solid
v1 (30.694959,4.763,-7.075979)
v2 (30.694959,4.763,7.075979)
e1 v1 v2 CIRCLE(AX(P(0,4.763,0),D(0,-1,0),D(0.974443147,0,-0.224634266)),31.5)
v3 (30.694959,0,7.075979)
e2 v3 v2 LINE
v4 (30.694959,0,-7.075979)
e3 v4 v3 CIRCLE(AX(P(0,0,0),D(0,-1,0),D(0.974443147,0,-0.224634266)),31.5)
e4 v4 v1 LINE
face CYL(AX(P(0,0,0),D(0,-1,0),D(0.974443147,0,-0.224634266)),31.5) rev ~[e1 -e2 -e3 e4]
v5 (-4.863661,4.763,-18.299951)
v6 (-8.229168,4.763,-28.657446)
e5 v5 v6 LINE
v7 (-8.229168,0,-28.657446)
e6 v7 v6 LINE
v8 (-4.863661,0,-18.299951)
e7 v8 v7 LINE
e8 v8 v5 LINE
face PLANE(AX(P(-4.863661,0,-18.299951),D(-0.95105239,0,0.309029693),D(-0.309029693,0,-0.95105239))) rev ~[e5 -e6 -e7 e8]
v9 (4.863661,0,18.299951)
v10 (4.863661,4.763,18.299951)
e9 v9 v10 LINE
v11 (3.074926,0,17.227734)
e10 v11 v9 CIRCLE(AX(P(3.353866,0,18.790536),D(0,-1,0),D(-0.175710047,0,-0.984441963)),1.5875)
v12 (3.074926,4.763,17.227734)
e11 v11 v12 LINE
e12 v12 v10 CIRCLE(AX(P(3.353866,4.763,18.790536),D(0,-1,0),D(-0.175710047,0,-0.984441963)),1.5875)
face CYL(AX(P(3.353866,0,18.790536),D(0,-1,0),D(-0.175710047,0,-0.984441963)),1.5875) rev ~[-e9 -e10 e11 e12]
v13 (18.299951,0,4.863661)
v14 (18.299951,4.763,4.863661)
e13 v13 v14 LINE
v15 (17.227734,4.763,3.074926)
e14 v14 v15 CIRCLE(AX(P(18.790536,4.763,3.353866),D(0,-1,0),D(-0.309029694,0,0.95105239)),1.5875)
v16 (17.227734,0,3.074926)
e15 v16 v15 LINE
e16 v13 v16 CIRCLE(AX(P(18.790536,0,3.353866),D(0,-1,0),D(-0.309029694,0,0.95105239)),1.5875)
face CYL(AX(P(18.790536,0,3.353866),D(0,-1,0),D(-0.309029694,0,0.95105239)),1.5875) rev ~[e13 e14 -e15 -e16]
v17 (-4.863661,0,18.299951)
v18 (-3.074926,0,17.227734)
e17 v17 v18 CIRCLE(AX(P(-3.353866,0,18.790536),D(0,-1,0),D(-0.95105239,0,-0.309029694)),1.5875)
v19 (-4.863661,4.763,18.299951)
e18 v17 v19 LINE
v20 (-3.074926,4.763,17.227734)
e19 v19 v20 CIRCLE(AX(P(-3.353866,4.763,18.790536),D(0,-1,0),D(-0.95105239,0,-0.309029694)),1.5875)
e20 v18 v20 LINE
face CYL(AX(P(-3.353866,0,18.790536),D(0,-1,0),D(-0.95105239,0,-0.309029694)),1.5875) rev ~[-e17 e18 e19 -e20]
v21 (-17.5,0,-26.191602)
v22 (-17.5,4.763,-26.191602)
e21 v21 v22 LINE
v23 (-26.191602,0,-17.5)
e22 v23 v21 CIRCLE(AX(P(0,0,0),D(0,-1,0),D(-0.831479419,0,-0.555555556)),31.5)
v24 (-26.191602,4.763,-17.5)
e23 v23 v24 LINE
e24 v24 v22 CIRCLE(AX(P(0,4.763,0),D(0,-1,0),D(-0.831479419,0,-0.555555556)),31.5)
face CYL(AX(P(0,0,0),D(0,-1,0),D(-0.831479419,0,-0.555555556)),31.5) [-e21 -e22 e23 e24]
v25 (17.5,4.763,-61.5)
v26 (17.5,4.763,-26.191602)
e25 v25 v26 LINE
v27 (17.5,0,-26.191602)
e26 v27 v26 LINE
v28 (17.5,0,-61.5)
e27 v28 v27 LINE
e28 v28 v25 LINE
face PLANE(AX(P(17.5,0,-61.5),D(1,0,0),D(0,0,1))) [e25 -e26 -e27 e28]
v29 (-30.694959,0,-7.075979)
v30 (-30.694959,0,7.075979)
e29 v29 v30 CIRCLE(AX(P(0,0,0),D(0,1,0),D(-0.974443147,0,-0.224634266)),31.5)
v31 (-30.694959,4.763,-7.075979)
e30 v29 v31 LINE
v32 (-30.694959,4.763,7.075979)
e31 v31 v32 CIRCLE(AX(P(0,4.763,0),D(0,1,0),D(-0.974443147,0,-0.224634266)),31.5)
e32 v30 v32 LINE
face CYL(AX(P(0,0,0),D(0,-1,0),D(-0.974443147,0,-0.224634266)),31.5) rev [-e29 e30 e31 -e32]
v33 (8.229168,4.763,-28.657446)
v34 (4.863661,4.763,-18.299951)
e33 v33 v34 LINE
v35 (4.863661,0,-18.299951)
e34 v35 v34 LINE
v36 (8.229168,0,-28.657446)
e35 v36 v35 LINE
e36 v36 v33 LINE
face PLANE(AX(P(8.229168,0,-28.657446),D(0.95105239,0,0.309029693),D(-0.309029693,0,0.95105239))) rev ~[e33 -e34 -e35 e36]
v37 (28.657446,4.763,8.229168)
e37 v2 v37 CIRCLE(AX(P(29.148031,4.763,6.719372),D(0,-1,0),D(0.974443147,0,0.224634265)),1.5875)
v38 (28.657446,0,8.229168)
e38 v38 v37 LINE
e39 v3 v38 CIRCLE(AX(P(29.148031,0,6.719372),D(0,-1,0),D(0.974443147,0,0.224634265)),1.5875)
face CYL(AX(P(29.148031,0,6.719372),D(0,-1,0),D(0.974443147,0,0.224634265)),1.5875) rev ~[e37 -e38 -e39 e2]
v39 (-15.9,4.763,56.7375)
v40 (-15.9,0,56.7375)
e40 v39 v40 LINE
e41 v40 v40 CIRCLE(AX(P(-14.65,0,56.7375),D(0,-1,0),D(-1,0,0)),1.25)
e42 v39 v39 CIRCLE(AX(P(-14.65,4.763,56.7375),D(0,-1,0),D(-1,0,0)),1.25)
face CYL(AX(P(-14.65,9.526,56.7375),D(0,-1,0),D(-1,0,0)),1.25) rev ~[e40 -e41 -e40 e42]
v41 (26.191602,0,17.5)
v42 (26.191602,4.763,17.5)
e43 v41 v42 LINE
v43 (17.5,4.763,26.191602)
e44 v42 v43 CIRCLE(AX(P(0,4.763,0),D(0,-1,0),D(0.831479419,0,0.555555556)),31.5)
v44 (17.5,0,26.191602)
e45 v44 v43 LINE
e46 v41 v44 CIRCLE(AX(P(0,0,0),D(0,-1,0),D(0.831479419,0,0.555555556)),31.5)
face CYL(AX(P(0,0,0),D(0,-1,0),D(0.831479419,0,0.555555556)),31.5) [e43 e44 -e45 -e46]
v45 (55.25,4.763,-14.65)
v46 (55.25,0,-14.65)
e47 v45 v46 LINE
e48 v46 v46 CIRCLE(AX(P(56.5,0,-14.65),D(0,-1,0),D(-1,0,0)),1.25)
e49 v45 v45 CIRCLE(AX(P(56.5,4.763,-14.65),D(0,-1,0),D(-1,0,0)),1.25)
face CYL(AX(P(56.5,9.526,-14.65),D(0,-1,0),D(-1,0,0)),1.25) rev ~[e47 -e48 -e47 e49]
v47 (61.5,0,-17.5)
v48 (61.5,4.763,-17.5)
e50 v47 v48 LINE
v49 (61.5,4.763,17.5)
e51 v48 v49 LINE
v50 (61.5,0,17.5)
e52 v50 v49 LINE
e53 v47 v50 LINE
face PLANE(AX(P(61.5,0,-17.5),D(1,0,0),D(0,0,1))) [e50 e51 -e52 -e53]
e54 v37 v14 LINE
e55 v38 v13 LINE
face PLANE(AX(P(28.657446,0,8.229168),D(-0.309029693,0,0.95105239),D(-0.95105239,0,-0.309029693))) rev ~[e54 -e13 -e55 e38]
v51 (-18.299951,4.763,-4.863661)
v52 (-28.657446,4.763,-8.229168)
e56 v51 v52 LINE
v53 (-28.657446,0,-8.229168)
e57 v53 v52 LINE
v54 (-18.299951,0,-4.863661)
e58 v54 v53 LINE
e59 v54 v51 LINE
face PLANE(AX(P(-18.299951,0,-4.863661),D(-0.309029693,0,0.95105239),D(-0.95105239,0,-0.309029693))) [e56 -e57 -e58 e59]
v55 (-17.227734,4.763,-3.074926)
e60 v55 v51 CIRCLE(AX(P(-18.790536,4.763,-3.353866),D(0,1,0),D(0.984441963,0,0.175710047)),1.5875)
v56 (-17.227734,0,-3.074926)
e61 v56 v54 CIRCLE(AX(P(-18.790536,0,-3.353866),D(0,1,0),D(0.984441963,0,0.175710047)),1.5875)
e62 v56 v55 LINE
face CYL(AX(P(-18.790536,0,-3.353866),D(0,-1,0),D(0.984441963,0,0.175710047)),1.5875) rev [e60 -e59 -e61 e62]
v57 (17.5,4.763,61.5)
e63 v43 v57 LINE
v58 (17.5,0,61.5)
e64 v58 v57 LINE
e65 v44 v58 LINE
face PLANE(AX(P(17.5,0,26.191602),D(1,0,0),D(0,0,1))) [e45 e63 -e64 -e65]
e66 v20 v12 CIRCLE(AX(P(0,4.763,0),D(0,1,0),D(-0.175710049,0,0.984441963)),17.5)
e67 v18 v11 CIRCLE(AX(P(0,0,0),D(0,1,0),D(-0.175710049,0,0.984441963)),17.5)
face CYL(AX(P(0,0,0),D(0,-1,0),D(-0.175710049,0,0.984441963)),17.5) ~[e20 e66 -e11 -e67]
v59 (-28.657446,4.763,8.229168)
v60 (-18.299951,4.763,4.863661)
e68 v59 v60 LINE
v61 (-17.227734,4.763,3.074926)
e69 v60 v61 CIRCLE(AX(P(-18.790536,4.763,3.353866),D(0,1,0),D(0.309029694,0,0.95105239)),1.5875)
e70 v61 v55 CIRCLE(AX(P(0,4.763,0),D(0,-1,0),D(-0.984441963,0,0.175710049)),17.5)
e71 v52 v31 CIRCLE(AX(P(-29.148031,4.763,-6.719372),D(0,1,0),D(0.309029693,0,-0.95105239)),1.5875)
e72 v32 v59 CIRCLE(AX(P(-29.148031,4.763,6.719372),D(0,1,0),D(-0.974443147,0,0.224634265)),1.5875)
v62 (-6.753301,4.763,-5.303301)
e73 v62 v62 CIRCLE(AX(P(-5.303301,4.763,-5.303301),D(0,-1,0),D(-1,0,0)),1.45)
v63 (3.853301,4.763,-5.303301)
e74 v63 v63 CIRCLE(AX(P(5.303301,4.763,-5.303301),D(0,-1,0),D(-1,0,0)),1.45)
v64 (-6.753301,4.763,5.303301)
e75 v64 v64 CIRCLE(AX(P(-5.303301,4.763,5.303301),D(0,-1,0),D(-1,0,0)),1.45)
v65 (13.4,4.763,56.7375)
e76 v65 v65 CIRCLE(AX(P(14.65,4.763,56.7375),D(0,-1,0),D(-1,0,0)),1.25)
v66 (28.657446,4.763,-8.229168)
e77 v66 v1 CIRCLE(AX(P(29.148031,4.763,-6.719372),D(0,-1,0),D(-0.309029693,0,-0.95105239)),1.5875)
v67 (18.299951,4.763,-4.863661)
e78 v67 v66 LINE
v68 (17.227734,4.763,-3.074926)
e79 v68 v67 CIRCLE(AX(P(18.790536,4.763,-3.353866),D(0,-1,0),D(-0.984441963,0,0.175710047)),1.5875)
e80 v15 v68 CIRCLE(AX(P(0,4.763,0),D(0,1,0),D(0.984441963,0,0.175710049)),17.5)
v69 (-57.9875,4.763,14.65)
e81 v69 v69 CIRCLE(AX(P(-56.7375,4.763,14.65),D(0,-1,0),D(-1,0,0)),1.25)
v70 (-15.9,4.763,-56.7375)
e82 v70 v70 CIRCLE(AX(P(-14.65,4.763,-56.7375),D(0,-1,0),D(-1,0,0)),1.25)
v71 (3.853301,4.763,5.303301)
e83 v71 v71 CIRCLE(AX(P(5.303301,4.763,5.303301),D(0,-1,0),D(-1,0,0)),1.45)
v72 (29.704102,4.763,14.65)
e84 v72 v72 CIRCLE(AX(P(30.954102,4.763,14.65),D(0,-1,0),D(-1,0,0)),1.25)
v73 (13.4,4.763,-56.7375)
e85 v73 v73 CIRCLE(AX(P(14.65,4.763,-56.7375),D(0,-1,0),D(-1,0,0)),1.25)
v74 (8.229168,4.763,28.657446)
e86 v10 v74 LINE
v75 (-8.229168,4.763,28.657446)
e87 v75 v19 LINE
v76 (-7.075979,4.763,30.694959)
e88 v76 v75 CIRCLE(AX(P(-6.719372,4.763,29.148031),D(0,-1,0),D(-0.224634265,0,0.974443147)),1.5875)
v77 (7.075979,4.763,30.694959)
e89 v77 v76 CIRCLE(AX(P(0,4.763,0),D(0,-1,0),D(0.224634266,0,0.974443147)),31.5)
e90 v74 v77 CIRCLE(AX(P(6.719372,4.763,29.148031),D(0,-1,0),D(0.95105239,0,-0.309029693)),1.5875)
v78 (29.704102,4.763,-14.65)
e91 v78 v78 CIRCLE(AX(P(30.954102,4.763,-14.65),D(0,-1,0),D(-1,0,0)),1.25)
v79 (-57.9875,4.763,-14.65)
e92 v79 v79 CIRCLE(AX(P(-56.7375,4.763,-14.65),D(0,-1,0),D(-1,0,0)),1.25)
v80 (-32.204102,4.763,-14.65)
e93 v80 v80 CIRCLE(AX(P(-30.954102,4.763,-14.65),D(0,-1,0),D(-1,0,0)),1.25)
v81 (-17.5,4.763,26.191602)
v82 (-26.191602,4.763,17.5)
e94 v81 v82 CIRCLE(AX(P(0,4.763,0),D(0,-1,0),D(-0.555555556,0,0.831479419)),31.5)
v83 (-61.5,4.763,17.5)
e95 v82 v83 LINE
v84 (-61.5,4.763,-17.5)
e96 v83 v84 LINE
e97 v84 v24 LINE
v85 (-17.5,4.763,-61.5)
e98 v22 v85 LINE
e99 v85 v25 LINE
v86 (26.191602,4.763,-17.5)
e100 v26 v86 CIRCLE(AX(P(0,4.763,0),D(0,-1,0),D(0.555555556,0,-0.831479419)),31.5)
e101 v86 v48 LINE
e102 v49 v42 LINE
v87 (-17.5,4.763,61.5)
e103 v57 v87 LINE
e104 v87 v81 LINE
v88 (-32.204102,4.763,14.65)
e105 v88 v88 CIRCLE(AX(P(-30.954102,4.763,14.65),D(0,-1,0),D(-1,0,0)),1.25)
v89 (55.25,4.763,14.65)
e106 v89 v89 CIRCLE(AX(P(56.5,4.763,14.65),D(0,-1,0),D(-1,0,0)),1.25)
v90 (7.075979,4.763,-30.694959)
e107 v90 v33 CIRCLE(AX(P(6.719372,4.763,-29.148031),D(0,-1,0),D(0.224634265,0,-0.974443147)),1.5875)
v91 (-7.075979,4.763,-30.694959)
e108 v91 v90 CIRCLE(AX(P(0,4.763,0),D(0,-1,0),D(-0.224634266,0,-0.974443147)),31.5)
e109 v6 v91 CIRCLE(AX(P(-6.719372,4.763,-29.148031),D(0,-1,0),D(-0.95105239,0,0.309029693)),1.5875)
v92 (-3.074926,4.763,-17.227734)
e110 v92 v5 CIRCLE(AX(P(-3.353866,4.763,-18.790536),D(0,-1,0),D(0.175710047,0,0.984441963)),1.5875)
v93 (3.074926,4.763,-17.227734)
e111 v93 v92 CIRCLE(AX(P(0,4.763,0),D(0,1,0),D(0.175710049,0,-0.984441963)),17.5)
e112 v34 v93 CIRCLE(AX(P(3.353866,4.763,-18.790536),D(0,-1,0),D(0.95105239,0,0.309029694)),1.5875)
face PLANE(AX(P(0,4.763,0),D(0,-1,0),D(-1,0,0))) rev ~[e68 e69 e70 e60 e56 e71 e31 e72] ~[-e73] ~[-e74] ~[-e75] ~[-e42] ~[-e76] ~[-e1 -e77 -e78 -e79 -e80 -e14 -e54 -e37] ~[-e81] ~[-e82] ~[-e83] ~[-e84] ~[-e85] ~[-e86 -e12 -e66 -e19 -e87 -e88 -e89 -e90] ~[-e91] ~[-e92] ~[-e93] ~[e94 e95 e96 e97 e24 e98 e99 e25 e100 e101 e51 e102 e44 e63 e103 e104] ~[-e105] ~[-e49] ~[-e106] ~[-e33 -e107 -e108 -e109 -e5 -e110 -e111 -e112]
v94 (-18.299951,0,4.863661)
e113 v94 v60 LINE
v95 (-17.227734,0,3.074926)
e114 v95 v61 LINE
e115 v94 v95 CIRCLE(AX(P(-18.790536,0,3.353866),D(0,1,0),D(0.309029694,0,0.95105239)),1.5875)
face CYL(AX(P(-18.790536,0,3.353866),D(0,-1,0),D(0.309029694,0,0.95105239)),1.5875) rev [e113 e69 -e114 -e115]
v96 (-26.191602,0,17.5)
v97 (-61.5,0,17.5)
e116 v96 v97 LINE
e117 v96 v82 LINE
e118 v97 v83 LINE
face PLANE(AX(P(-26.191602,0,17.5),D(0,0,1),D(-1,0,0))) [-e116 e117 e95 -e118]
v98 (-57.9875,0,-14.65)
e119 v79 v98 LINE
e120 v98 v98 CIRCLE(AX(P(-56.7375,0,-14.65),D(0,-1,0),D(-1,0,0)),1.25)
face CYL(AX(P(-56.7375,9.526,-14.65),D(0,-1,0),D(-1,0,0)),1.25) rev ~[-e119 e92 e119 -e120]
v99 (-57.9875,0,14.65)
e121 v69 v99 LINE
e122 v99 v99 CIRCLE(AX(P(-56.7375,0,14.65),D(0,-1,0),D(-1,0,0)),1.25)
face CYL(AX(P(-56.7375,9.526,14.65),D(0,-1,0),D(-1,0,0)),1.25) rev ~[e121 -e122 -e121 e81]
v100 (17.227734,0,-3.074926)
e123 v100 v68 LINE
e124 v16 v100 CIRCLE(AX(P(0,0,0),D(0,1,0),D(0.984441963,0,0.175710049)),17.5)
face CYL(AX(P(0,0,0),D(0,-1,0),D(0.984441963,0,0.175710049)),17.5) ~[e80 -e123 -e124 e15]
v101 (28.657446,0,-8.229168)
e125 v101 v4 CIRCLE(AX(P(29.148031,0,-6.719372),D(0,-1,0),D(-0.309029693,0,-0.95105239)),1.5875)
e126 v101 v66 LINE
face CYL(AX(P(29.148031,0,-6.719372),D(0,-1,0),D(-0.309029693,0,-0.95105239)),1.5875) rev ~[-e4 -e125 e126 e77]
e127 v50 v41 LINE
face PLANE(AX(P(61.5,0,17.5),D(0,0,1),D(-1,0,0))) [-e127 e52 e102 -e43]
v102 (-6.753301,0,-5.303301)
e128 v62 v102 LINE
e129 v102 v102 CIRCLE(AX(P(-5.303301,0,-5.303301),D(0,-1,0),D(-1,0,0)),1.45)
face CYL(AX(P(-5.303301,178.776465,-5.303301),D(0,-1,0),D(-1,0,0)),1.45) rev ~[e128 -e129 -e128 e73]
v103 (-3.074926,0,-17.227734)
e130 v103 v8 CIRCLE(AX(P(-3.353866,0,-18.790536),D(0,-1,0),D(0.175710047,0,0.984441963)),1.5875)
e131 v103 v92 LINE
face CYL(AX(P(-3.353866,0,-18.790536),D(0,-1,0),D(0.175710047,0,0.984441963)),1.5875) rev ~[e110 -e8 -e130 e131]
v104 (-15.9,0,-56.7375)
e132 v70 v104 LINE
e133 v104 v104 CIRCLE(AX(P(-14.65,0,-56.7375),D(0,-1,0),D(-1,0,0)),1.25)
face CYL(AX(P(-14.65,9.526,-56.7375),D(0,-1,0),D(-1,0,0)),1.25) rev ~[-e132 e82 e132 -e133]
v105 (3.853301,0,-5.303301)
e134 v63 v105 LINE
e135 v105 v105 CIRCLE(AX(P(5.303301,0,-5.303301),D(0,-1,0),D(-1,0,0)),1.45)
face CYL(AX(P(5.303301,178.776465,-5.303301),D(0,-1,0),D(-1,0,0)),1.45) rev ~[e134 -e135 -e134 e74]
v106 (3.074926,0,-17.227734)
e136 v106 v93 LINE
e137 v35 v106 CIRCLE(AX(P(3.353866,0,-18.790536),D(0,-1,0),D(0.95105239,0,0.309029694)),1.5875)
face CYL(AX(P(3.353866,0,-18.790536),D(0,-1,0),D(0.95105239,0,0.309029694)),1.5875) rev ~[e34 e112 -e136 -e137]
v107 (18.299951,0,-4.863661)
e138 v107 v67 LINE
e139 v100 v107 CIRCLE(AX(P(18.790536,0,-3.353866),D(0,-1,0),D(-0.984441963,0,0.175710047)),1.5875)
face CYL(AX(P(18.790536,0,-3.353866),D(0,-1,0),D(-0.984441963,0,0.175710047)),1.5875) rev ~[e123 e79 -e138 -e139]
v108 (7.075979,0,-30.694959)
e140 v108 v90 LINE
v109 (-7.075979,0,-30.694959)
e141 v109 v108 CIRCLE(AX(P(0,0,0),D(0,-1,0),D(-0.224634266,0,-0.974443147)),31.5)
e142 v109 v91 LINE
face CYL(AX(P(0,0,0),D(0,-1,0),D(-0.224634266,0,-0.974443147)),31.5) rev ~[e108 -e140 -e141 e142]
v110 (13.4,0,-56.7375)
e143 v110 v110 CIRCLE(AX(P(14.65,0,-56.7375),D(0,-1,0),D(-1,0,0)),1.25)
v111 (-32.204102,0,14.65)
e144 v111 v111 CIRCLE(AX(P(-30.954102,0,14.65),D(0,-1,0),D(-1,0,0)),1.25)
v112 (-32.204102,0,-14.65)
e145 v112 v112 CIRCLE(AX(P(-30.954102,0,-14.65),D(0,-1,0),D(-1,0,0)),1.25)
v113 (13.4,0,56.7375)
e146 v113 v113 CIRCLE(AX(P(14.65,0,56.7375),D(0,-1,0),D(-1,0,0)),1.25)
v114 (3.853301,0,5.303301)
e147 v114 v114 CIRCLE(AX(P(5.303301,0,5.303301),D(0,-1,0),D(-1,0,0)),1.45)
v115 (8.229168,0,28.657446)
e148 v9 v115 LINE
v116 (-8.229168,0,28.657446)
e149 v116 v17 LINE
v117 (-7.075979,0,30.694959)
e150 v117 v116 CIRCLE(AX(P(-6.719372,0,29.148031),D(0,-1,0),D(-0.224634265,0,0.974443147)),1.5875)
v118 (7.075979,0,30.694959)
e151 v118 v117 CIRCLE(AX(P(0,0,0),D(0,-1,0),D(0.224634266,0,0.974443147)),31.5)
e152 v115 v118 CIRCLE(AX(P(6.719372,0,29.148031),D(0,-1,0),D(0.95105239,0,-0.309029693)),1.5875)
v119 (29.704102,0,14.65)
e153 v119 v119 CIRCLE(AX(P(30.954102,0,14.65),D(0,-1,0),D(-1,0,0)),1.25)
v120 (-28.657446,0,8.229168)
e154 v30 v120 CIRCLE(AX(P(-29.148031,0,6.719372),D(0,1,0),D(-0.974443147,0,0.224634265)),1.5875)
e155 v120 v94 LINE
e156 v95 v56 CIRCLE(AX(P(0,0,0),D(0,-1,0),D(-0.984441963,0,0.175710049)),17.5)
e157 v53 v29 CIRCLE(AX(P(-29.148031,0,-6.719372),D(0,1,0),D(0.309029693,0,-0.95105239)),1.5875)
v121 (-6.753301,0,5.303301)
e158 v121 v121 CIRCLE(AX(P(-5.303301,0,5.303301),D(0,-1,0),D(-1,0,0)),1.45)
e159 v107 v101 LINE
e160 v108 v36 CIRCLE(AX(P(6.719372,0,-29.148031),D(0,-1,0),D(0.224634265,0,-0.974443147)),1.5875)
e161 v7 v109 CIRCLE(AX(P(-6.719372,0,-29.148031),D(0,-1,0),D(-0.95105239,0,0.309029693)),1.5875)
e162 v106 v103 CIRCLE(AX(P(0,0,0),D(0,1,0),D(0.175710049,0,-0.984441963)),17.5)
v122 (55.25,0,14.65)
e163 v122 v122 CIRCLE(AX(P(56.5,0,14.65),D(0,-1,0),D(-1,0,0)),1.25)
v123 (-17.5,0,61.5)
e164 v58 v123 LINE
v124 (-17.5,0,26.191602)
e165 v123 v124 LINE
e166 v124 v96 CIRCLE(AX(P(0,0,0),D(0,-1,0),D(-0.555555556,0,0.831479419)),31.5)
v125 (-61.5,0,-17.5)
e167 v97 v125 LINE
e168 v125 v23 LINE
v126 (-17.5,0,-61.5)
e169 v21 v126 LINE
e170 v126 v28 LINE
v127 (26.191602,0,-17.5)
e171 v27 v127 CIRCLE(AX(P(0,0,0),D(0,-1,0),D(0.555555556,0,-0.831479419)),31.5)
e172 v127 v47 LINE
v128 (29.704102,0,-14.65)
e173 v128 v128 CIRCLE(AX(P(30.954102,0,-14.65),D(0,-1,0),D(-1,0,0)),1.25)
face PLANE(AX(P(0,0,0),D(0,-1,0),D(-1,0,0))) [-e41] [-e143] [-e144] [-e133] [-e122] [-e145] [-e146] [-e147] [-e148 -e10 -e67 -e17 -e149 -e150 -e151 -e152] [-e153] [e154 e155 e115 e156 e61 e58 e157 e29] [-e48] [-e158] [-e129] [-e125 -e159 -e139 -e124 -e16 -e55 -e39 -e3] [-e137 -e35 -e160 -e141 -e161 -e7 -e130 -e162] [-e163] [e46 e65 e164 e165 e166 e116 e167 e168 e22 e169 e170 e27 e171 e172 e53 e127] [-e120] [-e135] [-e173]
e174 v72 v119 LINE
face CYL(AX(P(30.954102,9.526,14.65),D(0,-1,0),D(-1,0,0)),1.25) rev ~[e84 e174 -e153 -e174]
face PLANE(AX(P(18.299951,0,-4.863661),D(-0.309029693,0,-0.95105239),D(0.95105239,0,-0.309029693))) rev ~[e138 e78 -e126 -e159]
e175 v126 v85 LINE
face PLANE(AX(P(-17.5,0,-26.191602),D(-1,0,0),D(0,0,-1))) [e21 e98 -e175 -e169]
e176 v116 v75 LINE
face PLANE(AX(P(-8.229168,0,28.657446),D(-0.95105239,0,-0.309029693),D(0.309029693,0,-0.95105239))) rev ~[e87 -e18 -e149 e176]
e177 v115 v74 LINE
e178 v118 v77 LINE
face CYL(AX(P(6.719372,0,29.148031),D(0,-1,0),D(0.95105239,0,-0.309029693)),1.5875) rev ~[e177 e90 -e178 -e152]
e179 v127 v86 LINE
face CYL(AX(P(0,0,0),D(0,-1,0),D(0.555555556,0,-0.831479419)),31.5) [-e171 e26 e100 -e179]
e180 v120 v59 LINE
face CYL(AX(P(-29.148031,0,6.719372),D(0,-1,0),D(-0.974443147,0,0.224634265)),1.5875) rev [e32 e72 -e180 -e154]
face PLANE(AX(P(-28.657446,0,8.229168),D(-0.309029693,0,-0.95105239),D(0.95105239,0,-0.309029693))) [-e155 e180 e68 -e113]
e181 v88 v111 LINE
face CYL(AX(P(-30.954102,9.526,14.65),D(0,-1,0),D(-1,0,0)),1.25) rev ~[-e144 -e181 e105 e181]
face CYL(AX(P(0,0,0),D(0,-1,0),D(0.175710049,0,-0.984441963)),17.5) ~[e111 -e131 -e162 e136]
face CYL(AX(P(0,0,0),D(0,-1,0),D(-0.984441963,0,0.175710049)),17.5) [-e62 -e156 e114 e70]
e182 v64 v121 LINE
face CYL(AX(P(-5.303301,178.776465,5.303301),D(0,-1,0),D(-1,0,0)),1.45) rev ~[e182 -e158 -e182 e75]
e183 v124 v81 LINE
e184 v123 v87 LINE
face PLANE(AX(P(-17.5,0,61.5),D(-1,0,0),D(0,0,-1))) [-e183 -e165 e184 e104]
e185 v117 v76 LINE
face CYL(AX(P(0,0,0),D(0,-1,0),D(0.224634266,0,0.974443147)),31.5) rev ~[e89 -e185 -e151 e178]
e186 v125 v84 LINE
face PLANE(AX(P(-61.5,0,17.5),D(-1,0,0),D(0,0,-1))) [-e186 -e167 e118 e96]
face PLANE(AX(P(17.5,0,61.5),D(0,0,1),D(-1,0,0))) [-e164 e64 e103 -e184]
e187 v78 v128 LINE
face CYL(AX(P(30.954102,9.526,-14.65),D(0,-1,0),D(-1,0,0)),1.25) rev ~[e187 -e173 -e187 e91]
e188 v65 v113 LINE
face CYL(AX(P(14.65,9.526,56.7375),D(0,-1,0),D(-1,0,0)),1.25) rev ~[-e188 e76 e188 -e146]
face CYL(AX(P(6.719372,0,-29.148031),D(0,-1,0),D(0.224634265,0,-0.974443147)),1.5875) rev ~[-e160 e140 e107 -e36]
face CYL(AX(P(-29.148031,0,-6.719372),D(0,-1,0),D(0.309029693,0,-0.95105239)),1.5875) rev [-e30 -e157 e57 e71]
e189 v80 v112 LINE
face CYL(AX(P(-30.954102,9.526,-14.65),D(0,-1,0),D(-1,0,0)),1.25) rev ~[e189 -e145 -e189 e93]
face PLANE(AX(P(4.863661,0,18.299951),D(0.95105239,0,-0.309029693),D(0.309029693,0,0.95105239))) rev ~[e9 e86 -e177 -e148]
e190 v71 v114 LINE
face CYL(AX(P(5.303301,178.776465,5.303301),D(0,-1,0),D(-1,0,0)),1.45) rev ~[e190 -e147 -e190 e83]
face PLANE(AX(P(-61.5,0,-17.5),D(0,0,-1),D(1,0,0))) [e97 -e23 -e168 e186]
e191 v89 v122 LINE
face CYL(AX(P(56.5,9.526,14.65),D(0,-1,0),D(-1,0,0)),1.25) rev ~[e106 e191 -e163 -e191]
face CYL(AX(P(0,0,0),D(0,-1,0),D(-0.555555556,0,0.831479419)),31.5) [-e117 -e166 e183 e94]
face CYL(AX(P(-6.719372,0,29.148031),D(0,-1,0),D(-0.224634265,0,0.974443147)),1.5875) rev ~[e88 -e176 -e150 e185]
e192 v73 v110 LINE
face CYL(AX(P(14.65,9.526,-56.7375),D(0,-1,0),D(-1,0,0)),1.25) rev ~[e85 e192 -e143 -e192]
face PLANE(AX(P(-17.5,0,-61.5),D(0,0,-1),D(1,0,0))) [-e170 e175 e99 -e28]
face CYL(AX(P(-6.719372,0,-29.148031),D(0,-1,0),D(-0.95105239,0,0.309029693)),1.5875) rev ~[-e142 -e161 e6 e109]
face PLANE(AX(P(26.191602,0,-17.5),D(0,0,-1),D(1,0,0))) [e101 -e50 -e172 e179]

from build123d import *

# Parameters (mm, degrees)
BOSS_EXTRUDE1_DEPTH             = 4.763
M2_5_CLEARANCE_HOLE1_D          = 2.9
TAP_DRILL_FOR_M3X0_5_TAP1_D     = 2.5
TAP_DRILL_FOR_M3X0_5_TAP1_DEPTH = 4.763


with BuildPart() as part:
    # Sketch1 → Boss-Extrude1 (new body)
    with BuildSketch(Plane(origin=(0, 0, 0), x_dir=(1, 0, 0), z_dir=(0, 1, 0))):
        with BuildLine():
            Line((-61.5, 17.5), (-26.191601707, 17.5))
            ThreePointArc((-26.191601707, 17.5), (-22.273863607, 22.273863607), (-17.5, 26.191601707))
            Line((-17.5, 26.191601707), (-17.5, 61.5))
            Line((-17.5, 61.5), (17.5, 61.5))
            Line((17.5, 61.5), (17.5, 26.191601707))
            ThreePointArc((17.5, 26.191601707), (22.273863607, 22.273863607), (26.191601707, 17.5))
            Line((26.191601707, 17.5), (61.5, 17.5))
            Line((61.5, 17.5), (61.5, -17.5))
            Line((61.5, -17.5), (26.191601707, -17.5))
            ThreePointArc((26.191601707, -17.5), (22.273863607, -22.273863607), (17.5, -26.191601707))
            Line((17.5, -26.191601707), (17.5, -61.5))
            Line((17.5, -61.5), (-17.5, -61.5))
            Line((-17.5, -61.5), (-17.5, -26.191601707))
            ThreePointArc((-17.5, -26.191601707), (-22.273863607, -22.273863607), (-26.191601707, -17.5))
            Line((-26.191601707, -17.5), (-61.5, -17.5))
            Line((-61.5, -17.5), (-61.5, 17.5))
        make_face()
        with BuildLine():
            Line((-18.299951333, 4.863661227), (-28.657445997, 8.22916814))
            ThreePointArc((-28.657445997, 8.22916814), (-29.929968402, 8.100940268), (-30.69495913, 7.075979368))
            ThreePointArc((-30.69495913, 7.075979368), (-31.5, 0), (-30.69495913, -7.075979368))
            ThreePointArc((-30.69495913, -7.075979368), (-29.929968402, -8.100940268), (-28.657445997, -8.22916814))
            Line((-28.657445997, -8.22916814), (-18.299951333, -4.863661227))
            ThreePointArc((-18.299951333, -4.863661227), (-17.4289221, -4.170054209), (-17.227734354, -3.074925855))
            ThreePointArc((-17.227734354, -3.074925855), (-17.5, 0), (-17.227734354, 3.074925855))
            ThreePointArc((-17.227734354, 3.074925855), (-17.4289221, 4.170054209), (-18.299951333, 4.863661227))
        make_face(mode=Mode.SUBTRACT)
        with BuildLine():
            Line((-4.863661227, 18.299951333), (-8.22916814, 28.657445997))
            ThreePointArc((-8.22916814, 28.657445997), (-8.100940268, 29.929968402), (-7.075979368, 30.69495913))
            ThreePointArc((-7.075979368, 30.69495913), (0, 31.5), (7.075979368, 30.69495913))
            ThreePointArc((7.075979368, 30.69495913), (8.100940268, 29.929968402), (8.22916814, 28.657445997))
            Line((8.22916814, 28.657445997), (4.863661227, 18.299951333))
            ThreePointArc((4.863661227, 18.299951333), (4.170054209, 17.4289221), (3.074925855, 17.227734354))
            ThreePointArc((3.074925855, 17.227734354), (0, 17.5), (-3.074925855, 17.227734354))
            ThreePointArc((-3.074925855, 17.227734354), (-4.170054209, 17.4289221), (-4.863661227, 18.299951333))
        make_face(mode=Mode.SUBTRACT)
        with BuildLine():
            Line((18.299951333, 4.863661227), (28.657445997, 8.22916814))
            ThreePointArc((28.657445997, 8.22916814), (29.929968402, 8.100940268), (30.69495913, 7.075979368))
            ThreePointArc((30.69495913, 7.075979368), (31.5, 0), (30.69495913, -7.075979368))
            ThreePointArc((30.69495913, -7.075979368), (29.929968402, -8.100940268), (28.657445997, -8.22916814))
            Line((28.657445997, -8.22916814), (18.299951333, -4.863661227))
            ThreePointArc((18.299951333, -4.863661227), (17.4289221, -4.170054209), (17.227734354, -3.074925855))
            ThreePointArc((17.227734354, -3.074925855), (17.5, 0), (17.227734354, 3.074925855))
            ThreePointArc((17.227734354, 3.074925855), (17.4289221, 4.170054209), (18.299951333, 4.863661227))
        make_face(mode=Mode.SUBTRACT)
        with BuildLine():
            Line((4.863661227, -18.299951333), (8.22916814, -28.657445997))
            ThreePointArc((8.22916814, -28.657445997), (8.100940268, -29.929968402), (7.075979368, -30.69495913))
            ThreePointArc((7.075979368, -30.69495913), (0, -31.5), (-7.075979368, -30.69495913))
            ThreePointArc((-7.075979368, -30.69495913), (-8.100940268, -29.929968402), (-8.22916814, -28.657445997))
            Line((-8.22916814, -28.657445997), (-4.863661227, -18.299951333))
            ThreePointArc((-4.863661227, -18.299951333), (-4.170054209, -17.4289221), (-3.074925855, -17.227734354))
            ThreePointArc((-3.074925855, -17.227734354), (0, -17.5), (3.074925855, -17.227734354))
            ThreePointArc((3.074925855, -17.227734354), (4.170054209, -17.4289221), (4.863661227, -18.299951333))
        make_face(mode=Mode.SUBTRACT)
    extrude(amount=BOSS_EXTRUDE1_DEPTH)

    # M2.5 Clearance Hole1 (through all)
    with Locations(Plane(origin=(0, 4.763, 0), x_dir=(1, 0, 0), z_dir=(0, 1, 0))):
        with Locations((5.303300859, 5.303300859), (-5.303300859, 5.303300859), (-5.303300859, -5.303300859), (5.303300859, -5.303300859)):
            Hole(M2_5_CLEARANCE_HOLE1_D / 2)

    # Tap Drill for M3x0.5 Tap1
    with Locations(Plane(origin=(0, 4.763, 0), x_dir=(1, 0, 0), z_dir=(0, 1, 0))):
        with Locations((-56.7375, 14.65), (-30.954101707, 14.65), (-56.7375, -14.65), (30.954101707, 14.65), (56.5, 14.65), (-30.954101707, -14.65), (30.954101707, -14.65), (56.5, -14.65), (-14.65, 56.7375), (14.65, 56.7375), (-14.65, -56.7375), (14.65, -56.7375)):
            Hole(TAP_DRILL_FOR_M3X0_5_TAP1_D / 2, depth=TAP_DRILL_FOR_M3X0_5_TAP1_DEPTH)


solid = part.part
